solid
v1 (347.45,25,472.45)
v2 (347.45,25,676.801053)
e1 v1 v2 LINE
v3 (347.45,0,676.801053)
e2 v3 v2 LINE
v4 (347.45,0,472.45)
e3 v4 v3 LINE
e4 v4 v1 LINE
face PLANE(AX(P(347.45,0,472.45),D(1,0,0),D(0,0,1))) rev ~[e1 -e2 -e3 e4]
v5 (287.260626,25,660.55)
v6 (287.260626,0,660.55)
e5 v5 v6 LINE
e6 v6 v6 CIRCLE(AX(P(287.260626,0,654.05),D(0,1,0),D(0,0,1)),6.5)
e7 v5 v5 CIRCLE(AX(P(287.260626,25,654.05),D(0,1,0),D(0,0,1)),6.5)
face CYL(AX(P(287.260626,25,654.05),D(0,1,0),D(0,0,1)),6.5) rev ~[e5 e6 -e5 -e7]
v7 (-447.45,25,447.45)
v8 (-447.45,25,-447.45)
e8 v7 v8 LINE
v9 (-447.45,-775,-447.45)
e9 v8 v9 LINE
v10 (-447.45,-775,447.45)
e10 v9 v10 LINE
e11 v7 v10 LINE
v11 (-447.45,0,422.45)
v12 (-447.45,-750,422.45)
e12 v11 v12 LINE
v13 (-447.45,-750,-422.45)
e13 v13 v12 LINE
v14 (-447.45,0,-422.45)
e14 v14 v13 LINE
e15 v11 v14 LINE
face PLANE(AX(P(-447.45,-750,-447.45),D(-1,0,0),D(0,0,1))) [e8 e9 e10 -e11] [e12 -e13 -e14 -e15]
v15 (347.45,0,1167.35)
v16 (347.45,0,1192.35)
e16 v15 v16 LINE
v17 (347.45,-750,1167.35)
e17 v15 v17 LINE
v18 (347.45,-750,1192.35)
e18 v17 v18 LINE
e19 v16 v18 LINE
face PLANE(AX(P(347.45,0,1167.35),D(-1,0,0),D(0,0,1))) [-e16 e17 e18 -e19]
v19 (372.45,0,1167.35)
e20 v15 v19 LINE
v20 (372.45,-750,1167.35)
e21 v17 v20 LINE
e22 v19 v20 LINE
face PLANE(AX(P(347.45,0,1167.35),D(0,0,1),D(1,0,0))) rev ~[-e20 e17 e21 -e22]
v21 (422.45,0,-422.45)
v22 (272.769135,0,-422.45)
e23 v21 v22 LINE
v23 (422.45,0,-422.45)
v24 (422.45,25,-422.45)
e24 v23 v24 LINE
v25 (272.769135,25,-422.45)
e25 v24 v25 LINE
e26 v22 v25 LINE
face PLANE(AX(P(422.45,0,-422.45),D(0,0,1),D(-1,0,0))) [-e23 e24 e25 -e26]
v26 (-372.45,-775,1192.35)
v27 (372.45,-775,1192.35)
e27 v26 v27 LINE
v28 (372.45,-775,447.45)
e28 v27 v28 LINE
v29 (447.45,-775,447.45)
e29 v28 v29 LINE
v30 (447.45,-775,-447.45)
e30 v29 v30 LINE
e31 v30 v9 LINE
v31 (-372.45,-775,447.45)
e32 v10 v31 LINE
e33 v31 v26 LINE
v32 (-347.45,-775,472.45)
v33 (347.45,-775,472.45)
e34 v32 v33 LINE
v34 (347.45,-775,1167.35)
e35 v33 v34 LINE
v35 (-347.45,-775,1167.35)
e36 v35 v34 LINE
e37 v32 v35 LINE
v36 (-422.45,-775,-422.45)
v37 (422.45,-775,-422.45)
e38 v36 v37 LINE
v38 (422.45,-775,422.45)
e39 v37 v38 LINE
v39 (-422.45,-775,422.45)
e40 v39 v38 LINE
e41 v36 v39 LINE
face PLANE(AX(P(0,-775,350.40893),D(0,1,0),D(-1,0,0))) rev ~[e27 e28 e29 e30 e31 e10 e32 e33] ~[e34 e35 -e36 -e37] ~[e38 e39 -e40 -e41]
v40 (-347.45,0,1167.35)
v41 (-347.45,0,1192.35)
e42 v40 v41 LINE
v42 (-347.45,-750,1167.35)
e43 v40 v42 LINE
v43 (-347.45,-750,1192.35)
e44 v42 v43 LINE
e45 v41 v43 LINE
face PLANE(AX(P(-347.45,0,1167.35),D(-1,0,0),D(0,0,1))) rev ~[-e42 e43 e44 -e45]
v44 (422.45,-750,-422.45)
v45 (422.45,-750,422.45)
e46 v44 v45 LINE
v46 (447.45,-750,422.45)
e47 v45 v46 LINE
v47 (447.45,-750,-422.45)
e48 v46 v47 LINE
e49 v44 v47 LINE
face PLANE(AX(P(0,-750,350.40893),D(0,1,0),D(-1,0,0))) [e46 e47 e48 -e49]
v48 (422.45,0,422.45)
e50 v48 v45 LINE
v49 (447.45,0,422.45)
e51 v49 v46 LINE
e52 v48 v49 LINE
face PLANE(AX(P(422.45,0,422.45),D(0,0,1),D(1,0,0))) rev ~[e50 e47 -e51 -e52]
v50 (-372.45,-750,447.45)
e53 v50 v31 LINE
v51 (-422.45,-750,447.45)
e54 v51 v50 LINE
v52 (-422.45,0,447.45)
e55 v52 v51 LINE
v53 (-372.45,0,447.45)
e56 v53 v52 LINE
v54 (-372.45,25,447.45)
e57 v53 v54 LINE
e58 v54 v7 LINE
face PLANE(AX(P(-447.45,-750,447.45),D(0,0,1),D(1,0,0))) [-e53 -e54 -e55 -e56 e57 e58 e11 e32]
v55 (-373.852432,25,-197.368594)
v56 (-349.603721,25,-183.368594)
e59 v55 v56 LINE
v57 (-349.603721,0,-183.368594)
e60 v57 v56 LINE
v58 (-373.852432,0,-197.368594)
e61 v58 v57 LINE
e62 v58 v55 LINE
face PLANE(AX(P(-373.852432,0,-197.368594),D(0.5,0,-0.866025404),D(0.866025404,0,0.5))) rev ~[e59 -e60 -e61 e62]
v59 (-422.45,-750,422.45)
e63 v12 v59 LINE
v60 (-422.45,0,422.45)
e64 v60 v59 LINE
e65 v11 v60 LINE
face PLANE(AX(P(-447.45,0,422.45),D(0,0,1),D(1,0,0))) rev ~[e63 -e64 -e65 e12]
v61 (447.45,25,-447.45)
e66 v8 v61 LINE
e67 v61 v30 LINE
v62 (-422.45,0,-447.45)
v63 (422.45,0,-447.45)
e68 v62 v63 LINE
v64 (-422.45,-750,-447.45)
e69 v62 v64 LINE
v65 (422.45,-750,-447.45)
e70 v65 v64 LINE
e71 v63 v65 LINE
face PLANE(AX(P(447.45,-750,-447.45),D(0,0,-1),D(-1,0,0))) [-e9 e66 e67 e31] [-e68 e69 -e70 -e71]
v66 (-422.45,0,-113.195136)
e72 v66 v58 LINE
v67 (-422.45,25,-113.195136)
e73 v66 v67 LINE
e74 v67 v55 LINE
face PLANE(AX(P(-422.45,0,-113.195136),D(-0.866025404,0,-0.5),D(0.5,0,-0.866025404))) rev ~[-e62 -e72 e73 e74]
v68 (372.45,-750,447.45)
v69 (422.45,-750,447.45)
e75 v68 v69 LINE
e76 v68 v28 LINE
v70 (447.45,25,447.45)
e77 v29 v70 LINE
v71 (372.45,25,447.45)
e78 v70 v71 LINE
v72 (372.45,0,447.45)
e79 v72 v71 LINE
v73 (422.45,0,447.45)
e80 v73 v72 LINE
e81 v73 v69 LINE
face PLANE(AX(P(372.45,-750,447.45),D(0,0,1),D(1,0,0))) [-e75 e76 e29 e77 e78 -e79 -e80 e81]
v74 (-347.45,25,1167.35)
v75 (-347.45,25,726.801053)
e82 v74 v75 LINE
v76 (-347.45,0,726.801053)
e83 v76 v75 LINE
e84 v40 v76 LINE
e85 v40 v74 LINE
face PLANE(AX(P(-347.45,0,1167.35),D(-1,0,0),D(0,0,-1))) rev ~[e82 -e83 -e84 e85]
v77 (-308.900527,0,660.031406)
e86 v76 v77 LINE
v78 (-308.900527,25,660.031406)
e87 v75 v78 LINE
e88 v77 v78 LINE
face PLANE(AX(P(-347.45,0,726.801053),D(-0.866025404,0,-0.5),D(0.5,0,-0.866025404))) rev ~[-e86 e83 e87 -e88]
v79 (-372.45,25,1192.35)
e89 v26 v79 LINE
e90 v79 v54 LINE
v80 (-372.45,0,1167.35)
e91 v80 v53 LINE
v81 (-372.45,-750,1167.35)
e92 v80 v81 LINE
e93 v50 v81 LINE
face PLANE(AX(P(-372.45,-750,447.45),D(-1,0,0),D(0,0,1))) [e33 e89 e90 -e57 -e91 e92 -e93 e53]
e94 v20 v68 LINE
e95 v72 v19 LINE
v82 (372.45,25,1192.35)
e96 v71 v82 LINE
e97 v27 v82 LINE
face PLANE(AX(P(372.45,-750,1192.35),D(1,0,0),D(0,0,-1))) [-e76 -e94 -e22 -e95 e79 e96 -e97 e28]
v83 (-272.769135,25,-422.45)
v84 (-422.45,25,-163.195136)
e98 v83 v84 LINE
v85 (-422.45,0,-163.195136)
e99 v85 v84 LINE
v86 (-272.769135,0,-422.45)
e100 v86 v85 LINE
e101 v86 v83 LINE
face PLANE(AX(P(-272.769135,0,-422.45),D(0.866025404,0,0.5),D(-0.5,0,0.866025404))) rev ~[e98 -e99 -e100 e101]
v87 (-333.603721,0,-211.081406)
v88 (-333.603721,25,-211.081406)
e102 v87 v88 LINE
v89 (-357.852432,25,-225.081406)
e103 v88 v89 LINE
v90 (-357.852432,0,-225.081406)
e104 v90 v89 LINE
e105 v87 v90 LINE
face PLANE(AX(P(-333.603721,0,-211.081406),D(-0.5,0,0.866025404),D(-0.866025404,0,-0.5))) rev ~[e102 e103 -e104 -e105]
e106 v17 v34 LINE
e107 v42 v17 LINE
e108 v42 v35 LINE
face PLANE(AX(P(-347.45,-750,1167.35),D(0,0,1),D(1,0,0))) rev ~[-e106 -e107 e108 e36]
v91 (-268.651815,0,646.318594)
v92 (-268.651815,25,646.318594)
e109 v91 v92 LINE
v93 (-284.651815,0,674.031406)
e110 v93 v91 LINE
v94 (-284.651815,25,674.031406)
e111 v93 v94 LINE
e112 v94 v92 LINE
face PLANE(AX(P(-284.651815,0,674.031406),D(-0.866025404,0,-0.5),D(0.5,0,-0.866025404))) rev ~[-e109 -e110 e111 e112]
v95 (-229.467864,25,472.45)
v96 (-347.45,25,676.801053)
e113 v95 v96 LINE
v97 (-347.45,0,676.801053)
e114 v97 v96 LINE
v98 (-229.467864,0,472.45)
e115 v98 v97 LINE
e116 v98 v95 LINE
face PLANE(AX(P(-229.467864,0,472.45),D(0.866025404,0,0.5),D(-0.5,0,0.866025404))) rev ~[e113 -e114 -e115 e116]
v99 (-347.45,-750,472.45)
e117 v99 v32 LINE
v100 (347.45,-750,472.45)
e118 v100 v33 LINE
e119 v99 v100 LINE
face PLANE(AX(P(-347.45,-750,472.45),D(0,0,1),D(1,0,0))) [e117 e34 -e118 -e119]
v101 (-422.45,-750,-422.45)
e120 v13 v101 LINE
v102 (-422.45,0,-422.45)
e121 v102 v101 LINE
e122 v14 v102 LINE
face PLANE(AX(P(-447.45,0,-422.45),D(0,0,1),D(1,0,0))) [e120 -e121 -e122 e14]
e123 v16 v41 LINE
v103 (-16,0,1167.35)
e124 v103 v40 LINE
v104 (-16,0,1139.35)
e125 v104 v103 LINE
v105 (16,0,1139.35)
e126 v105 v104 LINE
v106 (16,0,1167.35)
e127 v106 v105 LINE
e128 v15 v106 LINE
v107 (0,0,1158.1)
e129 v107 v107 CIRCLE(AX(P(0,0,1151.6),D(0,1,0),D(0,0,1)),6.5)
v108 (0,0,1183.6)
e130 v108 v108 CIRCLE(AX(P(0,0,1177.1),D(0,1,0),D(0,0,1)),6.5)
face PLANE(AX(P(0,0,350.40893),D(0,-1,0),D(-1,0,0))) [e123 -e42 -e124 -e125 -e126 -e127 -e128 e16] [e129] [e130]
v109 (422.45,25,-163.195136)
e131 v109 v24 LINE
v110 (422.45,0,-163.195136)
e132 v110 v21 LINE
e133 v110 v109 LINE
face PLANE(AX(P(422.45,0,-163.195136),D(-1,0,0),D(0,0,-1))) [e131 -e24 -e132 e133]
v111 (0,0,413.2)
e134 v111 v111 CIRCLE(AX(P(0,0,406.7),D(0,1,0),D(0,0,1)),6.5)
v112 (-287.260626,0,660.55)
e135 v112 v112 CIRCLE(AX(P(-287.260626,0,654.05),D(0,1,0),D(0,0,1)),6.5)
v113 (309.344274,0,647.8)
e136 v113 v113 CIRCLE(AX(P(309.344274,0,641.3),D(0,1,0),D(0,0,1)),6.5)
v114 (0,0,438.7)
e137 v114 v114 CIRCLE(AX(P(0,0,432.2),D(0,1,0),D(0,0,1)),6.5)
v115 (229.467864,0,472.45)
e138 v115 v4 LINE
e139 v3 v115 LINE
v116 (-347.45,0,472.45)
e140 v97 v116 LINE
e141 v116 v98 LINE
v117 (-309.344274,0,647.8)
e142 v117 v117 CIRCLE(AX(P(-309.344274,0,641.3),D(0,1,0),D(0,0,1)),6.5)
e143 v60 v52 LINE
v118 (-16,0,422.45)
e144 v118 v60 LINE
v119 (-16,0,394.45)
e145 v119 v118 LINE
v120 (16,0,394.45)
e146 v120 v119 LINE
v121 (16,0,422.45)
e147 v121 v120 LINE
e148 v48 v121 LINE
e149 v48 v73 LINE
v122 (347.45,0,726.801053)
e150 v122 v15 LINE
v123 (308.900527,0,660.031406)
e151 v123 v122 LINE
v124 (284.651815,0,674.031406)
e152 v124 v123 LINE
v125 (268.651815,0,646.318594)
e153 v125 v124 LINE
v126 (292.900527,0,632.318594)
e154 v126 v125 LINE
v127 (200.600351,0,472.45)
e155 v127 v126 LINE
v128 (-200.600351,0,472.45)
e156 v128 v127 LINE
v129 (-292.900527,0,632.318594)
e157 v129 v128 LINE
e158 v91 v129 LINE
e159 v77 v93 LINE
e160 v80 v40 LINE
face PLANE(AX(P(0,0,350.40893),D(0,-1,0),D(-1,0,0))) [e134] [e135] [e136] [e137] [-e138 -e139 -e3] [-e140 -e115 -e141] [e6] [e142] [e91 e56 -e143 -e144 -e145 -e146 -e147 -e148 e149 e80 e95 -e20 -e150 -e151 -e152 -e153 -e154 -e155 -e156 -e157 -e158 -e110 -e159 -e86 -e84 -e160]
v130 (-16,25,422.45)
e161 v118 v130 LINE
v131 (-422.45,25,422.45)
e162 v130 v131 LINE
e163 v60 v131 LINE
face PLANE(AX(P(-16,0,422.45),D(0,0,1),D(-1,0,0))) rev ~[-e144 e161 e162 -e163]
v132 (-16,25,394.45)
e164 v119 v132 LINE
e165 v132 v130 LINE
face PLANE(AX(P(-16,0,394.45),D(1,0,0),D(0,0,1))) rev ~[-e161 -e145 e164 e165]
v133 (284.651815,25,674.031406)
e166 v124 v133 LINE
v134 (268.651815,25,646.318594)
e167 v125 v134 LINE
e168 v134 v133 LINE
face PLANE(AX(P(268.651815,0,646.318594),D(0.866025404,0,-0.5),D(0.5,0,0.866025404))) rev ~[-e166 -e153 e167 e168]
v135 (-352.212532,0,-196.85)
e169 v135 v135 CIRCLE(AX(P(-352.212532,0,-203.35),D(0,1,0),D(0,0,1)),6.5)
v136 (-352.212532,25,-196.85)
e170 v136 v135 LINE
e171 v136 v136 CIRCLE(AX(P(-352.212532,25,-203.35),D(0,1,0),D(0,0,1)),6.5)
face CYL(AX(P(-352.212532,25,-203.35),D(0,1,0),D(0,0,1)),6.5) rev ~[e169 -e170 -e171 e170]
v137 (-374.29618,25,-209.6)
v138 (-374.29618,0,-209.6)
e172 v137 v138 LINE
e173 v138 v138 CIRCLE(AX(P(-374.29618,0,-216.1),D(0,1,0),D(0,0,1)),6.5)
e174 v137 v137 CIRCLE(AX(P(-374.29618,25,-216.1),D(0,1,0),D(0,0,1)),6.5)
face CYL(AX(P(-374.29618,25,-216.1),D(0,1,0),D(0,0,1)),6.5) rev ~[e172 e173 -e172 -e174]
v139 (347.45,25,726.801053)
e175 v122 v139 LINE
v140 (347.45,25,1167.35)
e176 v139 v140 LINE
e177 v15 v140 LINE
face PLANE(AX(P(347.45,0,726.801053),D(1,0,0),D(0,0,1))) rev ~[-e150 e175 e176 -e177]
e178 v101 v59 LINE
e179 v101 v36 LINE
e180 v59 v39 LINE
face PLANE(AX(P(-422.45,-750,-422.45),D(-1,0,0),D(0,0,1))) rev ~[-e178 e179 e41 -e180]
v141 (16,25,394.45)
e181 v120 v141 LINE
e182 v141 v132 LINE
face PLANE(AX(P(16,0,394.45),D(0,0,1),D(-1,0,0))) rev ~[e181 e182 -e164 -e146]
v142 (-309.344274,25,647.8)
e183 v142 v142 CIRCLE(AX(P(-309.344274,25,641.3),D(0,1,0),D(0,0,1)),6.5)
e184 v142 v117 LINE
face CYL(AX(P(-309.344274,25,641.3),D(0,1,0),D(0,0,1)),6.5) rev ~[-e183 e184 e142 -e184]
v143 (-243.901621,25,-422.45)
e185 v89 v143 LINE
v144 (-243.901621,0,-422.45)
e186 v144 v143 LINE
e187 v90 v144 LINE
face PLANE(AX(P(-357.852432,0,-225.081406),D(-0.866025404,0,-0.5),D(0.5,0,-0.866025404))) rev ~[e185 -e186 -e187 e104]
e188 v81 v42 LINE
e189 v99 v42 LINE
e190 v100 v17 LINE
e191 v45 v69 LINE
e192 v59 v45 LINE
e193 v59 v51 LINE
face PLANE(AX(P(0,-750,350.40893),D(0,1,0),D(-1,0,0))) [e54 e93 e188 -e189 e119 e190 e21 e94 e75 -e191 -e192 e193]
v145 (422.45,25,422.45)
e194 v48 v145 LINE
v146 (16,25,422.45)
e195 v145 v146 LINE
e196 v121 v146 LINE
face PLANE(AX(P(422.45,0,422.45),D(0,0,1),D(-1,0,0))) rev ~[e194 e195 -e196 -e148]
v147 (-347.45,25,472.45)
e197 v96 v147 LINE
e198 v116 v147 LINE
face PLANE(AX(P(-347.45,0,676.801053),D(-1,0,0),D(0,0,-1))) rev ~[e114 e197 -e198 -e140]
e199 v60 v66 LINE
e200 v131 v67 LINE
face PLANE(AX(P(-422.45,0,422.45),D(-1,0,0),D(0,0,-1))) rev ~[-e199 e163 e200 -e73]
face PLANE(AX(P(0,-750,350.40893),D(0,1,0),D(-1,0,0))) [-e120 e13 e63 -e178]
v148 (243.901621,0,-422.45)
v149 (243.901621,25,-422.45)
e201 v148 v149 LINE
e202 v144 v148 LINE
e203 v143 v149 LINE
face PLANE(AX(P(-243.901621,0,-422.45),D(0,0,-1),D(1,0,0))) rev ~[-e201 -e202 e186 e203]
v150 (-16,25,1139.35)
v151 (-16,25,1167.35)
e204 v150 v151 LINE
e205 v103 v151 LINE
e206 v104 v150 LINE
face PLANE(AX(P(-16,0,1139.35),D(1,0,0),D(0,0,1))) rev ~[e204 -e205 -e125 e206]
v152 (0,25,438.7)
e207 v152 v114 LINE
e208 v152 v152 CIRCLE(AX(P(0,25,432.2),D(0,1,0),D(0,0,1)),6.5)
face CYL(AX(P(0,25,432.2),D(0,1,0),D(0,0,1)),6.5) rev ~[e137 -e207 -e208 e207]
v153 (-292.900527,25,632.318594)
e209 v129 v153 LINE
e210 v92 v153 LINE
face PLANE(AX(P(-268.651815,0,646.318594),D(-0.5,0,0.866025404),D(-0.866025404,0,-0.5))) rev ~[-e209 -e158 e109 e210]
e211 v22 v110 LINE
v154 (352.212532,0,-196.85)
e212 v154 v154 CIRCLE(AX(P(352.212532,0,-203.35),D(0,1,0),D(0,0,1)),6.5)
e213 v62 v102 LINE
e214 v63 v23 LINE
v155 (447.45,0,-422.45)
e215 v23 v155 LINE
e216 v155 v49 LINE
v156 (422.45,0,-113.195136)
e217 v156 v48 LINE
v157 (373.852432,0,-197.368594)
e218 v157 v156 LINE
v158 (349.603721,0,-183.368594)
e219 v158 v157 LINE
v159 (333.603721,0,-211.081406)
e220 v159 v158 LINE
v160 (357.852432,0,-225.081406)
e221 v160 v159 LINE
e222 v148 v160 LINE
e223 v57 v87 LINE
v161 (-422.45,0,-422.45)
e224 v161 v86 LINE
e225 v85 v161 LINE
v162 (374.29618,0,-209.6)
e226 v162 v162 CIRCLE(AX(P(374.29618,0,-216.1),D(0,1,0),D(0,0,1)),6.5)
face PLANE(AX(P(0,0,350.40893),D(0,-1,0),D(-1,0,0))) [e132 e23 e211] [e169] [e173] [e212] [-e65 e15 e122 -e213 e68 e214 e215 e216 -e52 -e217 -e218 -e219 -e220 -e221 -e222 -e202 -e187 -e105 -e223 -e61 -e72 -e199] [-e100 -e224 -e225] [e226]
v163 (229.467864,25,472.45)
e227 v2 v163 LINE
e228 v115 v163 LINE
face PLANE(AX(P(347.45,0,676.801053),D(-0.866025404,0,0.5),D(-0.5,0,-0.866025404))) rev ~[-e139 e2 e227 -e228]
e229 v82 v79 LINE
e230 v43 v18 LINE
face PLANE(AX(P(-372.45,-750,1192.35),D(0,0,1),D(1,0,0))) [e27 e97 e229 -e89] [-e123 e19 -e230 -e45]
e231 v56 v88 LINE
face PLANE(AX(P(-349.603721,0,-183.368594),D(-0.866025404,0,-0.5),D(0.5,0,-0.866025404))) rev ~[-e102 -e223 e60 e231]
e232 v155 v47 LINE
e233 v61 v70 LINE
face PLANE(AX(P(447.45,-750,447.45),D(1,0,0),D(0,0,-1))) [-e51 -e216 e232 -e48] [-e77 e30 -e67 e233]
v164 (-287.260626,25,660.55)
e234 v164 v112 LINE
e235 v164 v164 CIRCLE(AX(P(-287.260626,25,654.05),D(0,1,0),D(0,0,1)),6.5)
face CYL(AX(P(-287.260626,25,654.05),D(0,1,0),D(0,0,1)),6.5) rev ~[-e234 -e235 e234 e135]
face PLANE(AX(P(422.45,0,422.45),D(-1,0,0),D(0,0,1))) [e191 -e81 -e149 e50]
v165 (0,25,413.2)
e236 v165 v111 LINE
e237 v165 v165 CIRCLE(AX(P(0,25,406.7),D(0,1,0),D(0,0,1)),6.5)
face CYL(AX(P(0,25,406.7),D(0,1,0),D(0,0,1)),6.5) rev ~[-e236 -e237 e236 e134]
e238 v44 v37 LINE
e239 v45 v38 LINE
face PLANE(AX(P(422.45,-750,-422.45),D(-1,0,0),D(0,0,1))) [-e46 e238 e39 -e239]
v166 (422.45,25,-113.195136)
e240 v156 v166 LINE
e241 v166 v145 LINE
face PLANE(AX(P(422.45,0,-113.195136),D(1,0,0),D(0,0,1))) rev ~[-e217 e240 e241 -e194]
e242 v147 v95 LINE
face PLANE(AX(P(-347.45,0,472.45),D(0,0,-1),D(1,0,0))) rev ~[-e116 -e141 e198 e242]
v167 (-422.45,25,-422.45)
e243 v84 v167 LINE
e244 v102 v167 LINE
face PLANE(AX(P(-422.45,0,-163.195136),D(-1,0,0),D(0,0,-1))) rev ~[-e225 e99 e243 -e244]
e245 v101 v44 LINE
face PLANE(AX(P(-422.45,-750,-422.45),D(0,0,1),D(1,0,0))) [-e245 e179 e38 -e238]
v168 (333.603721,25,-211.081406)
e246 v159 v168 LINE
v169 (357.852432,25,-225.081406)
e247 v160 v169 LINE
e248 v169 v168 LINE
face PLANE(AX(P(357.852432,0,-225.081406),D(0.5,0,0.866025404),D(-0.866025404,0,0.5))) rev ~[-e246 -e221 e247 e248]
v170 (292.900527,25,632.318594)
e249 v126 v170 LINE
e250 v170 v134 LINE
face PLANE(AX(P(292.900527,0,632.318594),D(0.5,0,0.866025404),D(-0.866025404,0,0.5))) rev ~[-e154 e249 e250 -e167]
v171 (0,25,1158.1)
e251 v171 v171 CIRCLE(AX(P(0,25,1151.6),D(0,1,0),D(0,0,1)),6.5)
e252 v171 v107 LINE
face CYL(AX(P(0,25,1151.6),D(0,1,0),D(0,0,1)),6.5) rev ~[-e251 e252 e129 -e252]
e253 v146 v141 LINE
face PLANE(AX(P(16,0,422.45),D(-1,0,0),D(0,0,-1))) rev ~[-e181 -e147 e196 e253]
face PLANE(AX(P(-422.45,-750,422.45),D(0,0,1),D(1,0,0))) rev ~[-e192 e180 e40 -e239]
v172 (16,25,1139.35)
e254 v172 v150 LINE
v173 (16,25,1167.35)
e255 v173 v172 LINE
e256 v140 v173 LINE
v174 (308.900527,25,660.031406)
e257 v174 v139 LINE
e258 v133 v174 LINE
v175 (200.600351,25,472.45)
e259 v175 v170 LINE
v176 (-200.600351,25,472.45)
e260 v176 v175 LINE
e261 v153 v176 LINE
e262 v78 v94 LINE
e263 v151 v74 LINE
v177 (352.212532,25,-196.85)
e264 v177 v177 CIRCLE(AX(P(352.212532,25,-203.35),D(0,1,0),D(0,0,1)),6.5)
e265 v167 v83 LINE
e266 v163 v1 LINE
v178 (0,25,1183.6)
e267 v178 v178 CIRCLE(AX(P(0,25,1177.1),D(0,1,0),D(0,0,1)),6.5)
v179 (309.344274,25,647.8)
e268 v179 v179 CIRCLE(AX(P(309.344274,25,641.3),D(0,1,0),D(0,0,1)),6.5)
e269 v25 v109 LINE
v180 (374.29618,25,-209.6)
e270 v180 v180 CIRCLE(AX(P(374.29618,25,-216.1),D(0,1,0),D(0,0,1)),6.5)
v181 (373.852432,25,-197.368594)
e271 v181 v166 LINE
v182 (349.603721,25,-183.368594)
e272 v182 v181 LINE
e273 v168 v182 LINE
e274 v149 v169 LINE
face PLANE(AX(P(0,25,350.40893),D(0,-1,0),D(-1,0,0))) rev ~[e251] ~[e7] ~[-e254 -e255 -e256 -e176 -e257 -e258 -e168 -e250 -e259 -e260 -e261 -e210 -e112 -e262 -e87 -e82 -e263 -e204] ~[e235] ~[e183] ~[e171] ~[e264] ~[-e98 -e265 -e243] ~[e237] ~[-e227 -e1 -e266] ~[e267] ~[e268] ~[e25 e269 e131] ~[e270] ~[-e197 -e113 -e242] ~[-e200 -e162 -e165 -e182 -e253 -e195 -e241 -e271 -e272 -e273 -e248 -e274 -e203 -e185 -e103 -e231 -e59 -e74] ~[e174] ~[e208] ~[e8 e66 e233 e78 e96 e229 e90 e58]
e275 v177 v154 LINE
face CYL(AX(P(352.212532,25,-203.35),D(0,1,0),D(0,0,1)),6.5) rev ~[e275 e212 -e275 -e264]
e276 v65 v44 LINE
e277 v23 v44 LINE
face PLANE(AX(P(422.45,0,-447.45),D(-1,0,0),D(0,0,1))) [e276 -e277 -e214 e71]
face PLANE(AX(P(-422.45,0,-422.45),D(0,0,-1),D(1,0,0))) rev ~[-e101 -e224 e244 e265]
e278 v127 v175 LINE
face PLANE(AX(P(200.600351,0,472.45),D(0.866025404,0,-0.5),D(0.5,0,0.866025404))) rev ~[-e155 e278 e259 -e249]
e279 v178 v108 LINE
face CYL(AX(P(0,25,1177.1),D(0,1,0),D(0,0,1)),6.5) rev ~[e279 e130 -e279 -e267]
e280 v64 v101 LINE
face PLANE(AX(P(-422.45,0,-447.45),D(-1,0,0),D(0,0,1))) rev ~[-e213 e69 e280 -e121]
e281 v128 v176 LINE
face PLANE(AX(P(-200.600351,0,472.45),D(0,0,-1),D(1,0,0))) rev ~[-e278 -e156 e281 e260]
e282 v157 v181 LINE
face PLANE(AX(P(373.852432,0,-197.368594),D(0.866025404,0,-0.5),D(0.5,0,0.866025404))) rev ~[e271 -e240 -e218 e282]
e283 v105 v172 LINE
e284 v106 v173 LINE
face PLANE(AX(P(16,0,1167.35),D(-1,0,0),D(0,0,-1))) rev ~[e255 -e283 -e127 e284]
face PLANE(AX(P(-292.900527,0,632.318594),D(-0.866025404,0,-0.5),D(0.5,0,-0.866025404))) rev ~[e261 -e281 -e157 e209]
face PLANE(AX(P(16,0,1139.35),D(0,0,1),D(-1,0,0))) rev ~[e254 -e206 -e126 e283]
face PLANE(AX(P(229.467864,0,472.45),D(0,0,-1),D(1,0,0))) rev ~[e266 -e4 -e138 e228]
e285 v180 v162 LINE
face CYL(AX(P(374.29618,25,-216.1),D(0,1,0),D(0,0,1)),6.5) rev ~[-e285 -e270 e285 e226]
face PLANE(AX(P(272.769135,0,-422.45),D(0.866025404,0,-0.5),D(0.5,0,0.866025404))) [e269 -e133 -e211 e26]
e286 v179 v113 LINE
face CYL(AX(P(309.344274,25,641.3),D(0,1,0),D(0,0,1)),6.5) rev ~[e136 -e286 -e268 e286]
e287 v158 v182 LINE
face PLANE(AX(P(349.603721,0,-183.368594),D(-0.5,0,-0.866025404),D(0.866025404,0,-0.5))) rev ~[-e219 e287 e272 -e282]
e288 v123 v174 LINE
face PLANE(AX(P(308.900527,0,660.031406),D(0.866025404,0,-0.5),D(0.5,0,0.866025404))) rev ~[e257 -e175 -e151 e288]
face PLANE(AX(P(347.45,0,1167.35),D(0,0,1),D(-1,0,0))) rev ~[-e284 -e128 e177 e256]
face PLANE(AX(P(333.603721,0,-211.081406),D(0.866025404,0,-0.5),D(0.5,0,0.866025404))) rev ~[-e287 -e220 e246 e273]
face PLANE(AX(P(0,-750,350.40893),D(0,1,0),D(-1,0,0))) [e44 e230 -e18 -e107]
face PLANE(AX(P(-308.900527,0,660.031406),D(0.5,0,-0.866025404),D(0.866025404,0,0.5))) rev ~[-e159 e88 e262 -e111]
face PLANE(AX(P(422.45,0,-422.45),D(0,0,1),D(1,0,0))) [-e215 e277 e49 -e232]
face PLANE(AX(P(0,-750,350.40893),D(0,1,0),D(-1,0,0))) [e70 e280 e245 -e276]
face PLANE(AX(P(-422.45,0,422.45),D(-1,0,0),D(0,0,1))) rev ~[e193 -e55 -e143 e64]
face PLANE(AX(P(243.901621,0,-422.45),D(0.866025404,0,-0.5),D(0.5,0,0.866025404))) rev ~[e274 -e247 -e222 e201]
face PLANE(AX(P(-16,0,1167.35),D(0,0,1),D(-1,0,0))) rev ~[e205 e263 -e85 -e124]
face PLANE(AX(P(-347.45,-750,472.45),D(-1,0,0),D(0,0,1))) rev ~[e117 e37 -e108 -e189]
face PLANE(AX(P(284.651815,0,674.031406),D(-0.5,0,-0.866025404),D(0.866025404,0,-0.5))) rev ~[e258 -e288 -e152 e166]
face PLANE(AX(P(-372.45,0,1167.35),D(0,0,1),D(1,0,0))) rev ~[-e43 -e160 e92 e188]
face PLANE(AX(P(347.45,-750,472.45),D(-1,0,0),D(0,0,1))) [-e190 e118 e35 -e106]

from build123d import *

# Parameters (mm, degrees)
BOSS_EXTRUDE1_DEPTH = 25
SKETCH2_R           = 6.5
CUT_EXTRUDE1_DEPTH  = 25
SKETCH3_W           = 25
SKETCH3_H           = 25
BOSS_EXTRUDE2_DEPTH = 750
SKETCH4_W           = 844.9
SKETCH4_H           = 844.9
SKETCH4_W_2         = 694.9
SKETCH4_H_2         = 694.9
BOSS_EXTRUDE3_DEPTH = 25


with BuildPart() as part:
    # Sketch1 → Boss-Extrude1 (new body)
    with BuildSketch(Plane(origin=(0, 0, 0), x_dir=(1, 0, 0), z_dir=(0, 1, 0))):
        Polygon((-447.45, -447.45), (-447.45, 447.45), (447.45, 447.45), (447.45, -447.45), (372.45, -447.45), (372.45, -1192.35), (-372.45, -1192.35), (-372.45, -447.45), align=None)
        Polygon((-422.45, 422.45), (-272.769134679, 422.45), (-422.45, 163.195136343), align=None, mode=Mode.SUBTRACT)
        Polygon((422.45, 113.195136343), (422.45, -422.45), (16, -422.45), (16, -394.45), (-16, -394.45), (-16, -422.45), (-422.45, -422.45), (-422.45, 113.195136343), (-373.852431829, 197.368593539), (-349.603720523, 183.368593539), (-333.603720523, 211.081406461), (-357.852431829, 225.081406461), (-243.901621219, 422.45), (243.901621219, 422.45), (357.852431829, 225.081406461), (333.603720523, 211.081406461), (349.603720523, 183.368593539), (373.852431829, 197.368593539), align=None, mode=Mode.SUBTRACT)
        Polygon((272.769134679, 422.45), (422.45, 163.195136343), (422.45, 422.45), align=None, mode=Mode.SUBTRACT)
        Polygon((-347.45, -472.45), (-229.467864489, -472.45), (-347.45, -676.80105309), align=None, mode=Mode.SUBTRACT)
        Polygon((229.467864489, -472.45), (347.45, -472.45), (347.45, -676.80105309), align=None, mode=Mode.SUBTRACT)
        Polygon((-200.60035103, -472.45), (200.60035103, -472.45), (292.900526545, -632.318593539), (268.651815239, -646.318593539), (284.651815239, -674.031406461), (308.900526545, -660.031406461), (347.45, -726.80105309), (347.45, -1167.35), (16, -1167.35), (16, -1139.35), (-16, -1139.35), (-16, -1167.35), (-347.45, -1167.35), (-347.45, -726.80105309), (-308.900526545, -660.031406461), (-284.651815239, -674.031406461), (-268.651815239, -646.318593539), (-292.900526545, -632.318593539), align=None, mode=Mode.SUBTRACT)
    extrude(amount=BOSS_EXTRUDE1_DEPTH)

    # Sketch2 → Cut-Extrude1 (cut)
    with BuildSketch(Plane(origin=(0, 25, 0), x_dir=(1, 0, 0), z_dir=(0, 1, 0))):
        with Locations(Location((0, -432.2, 0), (0, 0, 270))):
            Circle(SKETCH2_R)
        with Locations(Location((374.296179516, 216.1, 0), (0, 0, 270))):
            Circle(SKETCH2_R)
        with Locations(Location((352.212531719, 203.35, 0), (0, 0, 270))):
            Circle(SKETCH2_R)
        with Locations(Location((-374.296179516, 216.1, 0), (0, 0, 270))):
            Circle(SKETCH2_R)
        with Locations(Location((-352.212531719, 203.35, 0), (0, 0, 270))):
            Circle(SKETCH2_R)
        with Locations(Location((0, -1177.1, 0), (0, 0, 270))):
            Circle(SKETCH2_R)
        with Locations(Location((0, -1151.6, 0), (0, 0, 270))):
            Circle(SKETCH2_R)
        with Locations(Location((-309.344274232, -641.3, 0), (0, 0, 270))):
            Circle(SKETCH2_R)
        with Locations(Location((-287.260626435, -654.05, 0), (0, 0, 270))):
            Circle(SKETCH2_R)
        with Locations(Location((309.344274232, -641.3, 0), (0, 0, 270))):
            Circle(SKETCH2_R)
        with Locations(Location((287.260626435, -654.05, 0), (0, 0, 270))):
            Circle(SKETCH2_R)
        with Locations(Location((0, -406.7, 0), (0, 0, 270))):
            Circle(SKETCH2_R)
    extrude(amount=-CUT_EXTRUDE1_DEPTH, mode=Mode.SUBTRACT)

    # Sketch3 → Boss-Extrude2 (add)
    with BuildSketch(Plane.XZ):
        with Locations((-359.95, 1179.85)):
            Rectangle(SKETCH3_W, SKETCH3_H)
        with Locations((359.95, 1179.85)):
            Rectangle(SKETCH3_W, SKETCH3_H)
        with Locations((434.95, 434.95)):
            Rectangle(SKETCH3_W, SKETCH3_H)
        with Locations((-434.95, 434.95)):
            Rectangle(SKETCH3_W, SKETCH3_H)
        with Locations((434.95, -434.95)):
            Rectangle(SKETCH3_W, SKETCH3_H)
        with Locations((-434.95, -434.95)):
            Rectangle(SKETCH3_W, SKETCH3_H)
    extrude(amount=BOSS_EXTRUDE2_DEPTH)

    # Sketch4 → Boss-Extrude3 (add)
    with BuildSketch(Plane.XZ.offset(750)):
        Polygon((-372.45, 447.45), (-372.45, 1192.35), (372.45, 1192.35), (372.45, 447.45), (447.45, 447.45), (447.45, -447.45), (-447.45, -447.45), (-447.45, 447.45), align=None)
        Rectangle(SKETCH4_W, SKETCH4_H, mode=Mode.SUBTRACT)
        with Locations((0, 819.9)):
            Rectangle(SKETCH4_W_2, SKETCH4_H_2, mode=Mode.SUBTRACT)
    extrude(amount=BOSS_EXTRUDE3_DEPTH)


solid = part.part
